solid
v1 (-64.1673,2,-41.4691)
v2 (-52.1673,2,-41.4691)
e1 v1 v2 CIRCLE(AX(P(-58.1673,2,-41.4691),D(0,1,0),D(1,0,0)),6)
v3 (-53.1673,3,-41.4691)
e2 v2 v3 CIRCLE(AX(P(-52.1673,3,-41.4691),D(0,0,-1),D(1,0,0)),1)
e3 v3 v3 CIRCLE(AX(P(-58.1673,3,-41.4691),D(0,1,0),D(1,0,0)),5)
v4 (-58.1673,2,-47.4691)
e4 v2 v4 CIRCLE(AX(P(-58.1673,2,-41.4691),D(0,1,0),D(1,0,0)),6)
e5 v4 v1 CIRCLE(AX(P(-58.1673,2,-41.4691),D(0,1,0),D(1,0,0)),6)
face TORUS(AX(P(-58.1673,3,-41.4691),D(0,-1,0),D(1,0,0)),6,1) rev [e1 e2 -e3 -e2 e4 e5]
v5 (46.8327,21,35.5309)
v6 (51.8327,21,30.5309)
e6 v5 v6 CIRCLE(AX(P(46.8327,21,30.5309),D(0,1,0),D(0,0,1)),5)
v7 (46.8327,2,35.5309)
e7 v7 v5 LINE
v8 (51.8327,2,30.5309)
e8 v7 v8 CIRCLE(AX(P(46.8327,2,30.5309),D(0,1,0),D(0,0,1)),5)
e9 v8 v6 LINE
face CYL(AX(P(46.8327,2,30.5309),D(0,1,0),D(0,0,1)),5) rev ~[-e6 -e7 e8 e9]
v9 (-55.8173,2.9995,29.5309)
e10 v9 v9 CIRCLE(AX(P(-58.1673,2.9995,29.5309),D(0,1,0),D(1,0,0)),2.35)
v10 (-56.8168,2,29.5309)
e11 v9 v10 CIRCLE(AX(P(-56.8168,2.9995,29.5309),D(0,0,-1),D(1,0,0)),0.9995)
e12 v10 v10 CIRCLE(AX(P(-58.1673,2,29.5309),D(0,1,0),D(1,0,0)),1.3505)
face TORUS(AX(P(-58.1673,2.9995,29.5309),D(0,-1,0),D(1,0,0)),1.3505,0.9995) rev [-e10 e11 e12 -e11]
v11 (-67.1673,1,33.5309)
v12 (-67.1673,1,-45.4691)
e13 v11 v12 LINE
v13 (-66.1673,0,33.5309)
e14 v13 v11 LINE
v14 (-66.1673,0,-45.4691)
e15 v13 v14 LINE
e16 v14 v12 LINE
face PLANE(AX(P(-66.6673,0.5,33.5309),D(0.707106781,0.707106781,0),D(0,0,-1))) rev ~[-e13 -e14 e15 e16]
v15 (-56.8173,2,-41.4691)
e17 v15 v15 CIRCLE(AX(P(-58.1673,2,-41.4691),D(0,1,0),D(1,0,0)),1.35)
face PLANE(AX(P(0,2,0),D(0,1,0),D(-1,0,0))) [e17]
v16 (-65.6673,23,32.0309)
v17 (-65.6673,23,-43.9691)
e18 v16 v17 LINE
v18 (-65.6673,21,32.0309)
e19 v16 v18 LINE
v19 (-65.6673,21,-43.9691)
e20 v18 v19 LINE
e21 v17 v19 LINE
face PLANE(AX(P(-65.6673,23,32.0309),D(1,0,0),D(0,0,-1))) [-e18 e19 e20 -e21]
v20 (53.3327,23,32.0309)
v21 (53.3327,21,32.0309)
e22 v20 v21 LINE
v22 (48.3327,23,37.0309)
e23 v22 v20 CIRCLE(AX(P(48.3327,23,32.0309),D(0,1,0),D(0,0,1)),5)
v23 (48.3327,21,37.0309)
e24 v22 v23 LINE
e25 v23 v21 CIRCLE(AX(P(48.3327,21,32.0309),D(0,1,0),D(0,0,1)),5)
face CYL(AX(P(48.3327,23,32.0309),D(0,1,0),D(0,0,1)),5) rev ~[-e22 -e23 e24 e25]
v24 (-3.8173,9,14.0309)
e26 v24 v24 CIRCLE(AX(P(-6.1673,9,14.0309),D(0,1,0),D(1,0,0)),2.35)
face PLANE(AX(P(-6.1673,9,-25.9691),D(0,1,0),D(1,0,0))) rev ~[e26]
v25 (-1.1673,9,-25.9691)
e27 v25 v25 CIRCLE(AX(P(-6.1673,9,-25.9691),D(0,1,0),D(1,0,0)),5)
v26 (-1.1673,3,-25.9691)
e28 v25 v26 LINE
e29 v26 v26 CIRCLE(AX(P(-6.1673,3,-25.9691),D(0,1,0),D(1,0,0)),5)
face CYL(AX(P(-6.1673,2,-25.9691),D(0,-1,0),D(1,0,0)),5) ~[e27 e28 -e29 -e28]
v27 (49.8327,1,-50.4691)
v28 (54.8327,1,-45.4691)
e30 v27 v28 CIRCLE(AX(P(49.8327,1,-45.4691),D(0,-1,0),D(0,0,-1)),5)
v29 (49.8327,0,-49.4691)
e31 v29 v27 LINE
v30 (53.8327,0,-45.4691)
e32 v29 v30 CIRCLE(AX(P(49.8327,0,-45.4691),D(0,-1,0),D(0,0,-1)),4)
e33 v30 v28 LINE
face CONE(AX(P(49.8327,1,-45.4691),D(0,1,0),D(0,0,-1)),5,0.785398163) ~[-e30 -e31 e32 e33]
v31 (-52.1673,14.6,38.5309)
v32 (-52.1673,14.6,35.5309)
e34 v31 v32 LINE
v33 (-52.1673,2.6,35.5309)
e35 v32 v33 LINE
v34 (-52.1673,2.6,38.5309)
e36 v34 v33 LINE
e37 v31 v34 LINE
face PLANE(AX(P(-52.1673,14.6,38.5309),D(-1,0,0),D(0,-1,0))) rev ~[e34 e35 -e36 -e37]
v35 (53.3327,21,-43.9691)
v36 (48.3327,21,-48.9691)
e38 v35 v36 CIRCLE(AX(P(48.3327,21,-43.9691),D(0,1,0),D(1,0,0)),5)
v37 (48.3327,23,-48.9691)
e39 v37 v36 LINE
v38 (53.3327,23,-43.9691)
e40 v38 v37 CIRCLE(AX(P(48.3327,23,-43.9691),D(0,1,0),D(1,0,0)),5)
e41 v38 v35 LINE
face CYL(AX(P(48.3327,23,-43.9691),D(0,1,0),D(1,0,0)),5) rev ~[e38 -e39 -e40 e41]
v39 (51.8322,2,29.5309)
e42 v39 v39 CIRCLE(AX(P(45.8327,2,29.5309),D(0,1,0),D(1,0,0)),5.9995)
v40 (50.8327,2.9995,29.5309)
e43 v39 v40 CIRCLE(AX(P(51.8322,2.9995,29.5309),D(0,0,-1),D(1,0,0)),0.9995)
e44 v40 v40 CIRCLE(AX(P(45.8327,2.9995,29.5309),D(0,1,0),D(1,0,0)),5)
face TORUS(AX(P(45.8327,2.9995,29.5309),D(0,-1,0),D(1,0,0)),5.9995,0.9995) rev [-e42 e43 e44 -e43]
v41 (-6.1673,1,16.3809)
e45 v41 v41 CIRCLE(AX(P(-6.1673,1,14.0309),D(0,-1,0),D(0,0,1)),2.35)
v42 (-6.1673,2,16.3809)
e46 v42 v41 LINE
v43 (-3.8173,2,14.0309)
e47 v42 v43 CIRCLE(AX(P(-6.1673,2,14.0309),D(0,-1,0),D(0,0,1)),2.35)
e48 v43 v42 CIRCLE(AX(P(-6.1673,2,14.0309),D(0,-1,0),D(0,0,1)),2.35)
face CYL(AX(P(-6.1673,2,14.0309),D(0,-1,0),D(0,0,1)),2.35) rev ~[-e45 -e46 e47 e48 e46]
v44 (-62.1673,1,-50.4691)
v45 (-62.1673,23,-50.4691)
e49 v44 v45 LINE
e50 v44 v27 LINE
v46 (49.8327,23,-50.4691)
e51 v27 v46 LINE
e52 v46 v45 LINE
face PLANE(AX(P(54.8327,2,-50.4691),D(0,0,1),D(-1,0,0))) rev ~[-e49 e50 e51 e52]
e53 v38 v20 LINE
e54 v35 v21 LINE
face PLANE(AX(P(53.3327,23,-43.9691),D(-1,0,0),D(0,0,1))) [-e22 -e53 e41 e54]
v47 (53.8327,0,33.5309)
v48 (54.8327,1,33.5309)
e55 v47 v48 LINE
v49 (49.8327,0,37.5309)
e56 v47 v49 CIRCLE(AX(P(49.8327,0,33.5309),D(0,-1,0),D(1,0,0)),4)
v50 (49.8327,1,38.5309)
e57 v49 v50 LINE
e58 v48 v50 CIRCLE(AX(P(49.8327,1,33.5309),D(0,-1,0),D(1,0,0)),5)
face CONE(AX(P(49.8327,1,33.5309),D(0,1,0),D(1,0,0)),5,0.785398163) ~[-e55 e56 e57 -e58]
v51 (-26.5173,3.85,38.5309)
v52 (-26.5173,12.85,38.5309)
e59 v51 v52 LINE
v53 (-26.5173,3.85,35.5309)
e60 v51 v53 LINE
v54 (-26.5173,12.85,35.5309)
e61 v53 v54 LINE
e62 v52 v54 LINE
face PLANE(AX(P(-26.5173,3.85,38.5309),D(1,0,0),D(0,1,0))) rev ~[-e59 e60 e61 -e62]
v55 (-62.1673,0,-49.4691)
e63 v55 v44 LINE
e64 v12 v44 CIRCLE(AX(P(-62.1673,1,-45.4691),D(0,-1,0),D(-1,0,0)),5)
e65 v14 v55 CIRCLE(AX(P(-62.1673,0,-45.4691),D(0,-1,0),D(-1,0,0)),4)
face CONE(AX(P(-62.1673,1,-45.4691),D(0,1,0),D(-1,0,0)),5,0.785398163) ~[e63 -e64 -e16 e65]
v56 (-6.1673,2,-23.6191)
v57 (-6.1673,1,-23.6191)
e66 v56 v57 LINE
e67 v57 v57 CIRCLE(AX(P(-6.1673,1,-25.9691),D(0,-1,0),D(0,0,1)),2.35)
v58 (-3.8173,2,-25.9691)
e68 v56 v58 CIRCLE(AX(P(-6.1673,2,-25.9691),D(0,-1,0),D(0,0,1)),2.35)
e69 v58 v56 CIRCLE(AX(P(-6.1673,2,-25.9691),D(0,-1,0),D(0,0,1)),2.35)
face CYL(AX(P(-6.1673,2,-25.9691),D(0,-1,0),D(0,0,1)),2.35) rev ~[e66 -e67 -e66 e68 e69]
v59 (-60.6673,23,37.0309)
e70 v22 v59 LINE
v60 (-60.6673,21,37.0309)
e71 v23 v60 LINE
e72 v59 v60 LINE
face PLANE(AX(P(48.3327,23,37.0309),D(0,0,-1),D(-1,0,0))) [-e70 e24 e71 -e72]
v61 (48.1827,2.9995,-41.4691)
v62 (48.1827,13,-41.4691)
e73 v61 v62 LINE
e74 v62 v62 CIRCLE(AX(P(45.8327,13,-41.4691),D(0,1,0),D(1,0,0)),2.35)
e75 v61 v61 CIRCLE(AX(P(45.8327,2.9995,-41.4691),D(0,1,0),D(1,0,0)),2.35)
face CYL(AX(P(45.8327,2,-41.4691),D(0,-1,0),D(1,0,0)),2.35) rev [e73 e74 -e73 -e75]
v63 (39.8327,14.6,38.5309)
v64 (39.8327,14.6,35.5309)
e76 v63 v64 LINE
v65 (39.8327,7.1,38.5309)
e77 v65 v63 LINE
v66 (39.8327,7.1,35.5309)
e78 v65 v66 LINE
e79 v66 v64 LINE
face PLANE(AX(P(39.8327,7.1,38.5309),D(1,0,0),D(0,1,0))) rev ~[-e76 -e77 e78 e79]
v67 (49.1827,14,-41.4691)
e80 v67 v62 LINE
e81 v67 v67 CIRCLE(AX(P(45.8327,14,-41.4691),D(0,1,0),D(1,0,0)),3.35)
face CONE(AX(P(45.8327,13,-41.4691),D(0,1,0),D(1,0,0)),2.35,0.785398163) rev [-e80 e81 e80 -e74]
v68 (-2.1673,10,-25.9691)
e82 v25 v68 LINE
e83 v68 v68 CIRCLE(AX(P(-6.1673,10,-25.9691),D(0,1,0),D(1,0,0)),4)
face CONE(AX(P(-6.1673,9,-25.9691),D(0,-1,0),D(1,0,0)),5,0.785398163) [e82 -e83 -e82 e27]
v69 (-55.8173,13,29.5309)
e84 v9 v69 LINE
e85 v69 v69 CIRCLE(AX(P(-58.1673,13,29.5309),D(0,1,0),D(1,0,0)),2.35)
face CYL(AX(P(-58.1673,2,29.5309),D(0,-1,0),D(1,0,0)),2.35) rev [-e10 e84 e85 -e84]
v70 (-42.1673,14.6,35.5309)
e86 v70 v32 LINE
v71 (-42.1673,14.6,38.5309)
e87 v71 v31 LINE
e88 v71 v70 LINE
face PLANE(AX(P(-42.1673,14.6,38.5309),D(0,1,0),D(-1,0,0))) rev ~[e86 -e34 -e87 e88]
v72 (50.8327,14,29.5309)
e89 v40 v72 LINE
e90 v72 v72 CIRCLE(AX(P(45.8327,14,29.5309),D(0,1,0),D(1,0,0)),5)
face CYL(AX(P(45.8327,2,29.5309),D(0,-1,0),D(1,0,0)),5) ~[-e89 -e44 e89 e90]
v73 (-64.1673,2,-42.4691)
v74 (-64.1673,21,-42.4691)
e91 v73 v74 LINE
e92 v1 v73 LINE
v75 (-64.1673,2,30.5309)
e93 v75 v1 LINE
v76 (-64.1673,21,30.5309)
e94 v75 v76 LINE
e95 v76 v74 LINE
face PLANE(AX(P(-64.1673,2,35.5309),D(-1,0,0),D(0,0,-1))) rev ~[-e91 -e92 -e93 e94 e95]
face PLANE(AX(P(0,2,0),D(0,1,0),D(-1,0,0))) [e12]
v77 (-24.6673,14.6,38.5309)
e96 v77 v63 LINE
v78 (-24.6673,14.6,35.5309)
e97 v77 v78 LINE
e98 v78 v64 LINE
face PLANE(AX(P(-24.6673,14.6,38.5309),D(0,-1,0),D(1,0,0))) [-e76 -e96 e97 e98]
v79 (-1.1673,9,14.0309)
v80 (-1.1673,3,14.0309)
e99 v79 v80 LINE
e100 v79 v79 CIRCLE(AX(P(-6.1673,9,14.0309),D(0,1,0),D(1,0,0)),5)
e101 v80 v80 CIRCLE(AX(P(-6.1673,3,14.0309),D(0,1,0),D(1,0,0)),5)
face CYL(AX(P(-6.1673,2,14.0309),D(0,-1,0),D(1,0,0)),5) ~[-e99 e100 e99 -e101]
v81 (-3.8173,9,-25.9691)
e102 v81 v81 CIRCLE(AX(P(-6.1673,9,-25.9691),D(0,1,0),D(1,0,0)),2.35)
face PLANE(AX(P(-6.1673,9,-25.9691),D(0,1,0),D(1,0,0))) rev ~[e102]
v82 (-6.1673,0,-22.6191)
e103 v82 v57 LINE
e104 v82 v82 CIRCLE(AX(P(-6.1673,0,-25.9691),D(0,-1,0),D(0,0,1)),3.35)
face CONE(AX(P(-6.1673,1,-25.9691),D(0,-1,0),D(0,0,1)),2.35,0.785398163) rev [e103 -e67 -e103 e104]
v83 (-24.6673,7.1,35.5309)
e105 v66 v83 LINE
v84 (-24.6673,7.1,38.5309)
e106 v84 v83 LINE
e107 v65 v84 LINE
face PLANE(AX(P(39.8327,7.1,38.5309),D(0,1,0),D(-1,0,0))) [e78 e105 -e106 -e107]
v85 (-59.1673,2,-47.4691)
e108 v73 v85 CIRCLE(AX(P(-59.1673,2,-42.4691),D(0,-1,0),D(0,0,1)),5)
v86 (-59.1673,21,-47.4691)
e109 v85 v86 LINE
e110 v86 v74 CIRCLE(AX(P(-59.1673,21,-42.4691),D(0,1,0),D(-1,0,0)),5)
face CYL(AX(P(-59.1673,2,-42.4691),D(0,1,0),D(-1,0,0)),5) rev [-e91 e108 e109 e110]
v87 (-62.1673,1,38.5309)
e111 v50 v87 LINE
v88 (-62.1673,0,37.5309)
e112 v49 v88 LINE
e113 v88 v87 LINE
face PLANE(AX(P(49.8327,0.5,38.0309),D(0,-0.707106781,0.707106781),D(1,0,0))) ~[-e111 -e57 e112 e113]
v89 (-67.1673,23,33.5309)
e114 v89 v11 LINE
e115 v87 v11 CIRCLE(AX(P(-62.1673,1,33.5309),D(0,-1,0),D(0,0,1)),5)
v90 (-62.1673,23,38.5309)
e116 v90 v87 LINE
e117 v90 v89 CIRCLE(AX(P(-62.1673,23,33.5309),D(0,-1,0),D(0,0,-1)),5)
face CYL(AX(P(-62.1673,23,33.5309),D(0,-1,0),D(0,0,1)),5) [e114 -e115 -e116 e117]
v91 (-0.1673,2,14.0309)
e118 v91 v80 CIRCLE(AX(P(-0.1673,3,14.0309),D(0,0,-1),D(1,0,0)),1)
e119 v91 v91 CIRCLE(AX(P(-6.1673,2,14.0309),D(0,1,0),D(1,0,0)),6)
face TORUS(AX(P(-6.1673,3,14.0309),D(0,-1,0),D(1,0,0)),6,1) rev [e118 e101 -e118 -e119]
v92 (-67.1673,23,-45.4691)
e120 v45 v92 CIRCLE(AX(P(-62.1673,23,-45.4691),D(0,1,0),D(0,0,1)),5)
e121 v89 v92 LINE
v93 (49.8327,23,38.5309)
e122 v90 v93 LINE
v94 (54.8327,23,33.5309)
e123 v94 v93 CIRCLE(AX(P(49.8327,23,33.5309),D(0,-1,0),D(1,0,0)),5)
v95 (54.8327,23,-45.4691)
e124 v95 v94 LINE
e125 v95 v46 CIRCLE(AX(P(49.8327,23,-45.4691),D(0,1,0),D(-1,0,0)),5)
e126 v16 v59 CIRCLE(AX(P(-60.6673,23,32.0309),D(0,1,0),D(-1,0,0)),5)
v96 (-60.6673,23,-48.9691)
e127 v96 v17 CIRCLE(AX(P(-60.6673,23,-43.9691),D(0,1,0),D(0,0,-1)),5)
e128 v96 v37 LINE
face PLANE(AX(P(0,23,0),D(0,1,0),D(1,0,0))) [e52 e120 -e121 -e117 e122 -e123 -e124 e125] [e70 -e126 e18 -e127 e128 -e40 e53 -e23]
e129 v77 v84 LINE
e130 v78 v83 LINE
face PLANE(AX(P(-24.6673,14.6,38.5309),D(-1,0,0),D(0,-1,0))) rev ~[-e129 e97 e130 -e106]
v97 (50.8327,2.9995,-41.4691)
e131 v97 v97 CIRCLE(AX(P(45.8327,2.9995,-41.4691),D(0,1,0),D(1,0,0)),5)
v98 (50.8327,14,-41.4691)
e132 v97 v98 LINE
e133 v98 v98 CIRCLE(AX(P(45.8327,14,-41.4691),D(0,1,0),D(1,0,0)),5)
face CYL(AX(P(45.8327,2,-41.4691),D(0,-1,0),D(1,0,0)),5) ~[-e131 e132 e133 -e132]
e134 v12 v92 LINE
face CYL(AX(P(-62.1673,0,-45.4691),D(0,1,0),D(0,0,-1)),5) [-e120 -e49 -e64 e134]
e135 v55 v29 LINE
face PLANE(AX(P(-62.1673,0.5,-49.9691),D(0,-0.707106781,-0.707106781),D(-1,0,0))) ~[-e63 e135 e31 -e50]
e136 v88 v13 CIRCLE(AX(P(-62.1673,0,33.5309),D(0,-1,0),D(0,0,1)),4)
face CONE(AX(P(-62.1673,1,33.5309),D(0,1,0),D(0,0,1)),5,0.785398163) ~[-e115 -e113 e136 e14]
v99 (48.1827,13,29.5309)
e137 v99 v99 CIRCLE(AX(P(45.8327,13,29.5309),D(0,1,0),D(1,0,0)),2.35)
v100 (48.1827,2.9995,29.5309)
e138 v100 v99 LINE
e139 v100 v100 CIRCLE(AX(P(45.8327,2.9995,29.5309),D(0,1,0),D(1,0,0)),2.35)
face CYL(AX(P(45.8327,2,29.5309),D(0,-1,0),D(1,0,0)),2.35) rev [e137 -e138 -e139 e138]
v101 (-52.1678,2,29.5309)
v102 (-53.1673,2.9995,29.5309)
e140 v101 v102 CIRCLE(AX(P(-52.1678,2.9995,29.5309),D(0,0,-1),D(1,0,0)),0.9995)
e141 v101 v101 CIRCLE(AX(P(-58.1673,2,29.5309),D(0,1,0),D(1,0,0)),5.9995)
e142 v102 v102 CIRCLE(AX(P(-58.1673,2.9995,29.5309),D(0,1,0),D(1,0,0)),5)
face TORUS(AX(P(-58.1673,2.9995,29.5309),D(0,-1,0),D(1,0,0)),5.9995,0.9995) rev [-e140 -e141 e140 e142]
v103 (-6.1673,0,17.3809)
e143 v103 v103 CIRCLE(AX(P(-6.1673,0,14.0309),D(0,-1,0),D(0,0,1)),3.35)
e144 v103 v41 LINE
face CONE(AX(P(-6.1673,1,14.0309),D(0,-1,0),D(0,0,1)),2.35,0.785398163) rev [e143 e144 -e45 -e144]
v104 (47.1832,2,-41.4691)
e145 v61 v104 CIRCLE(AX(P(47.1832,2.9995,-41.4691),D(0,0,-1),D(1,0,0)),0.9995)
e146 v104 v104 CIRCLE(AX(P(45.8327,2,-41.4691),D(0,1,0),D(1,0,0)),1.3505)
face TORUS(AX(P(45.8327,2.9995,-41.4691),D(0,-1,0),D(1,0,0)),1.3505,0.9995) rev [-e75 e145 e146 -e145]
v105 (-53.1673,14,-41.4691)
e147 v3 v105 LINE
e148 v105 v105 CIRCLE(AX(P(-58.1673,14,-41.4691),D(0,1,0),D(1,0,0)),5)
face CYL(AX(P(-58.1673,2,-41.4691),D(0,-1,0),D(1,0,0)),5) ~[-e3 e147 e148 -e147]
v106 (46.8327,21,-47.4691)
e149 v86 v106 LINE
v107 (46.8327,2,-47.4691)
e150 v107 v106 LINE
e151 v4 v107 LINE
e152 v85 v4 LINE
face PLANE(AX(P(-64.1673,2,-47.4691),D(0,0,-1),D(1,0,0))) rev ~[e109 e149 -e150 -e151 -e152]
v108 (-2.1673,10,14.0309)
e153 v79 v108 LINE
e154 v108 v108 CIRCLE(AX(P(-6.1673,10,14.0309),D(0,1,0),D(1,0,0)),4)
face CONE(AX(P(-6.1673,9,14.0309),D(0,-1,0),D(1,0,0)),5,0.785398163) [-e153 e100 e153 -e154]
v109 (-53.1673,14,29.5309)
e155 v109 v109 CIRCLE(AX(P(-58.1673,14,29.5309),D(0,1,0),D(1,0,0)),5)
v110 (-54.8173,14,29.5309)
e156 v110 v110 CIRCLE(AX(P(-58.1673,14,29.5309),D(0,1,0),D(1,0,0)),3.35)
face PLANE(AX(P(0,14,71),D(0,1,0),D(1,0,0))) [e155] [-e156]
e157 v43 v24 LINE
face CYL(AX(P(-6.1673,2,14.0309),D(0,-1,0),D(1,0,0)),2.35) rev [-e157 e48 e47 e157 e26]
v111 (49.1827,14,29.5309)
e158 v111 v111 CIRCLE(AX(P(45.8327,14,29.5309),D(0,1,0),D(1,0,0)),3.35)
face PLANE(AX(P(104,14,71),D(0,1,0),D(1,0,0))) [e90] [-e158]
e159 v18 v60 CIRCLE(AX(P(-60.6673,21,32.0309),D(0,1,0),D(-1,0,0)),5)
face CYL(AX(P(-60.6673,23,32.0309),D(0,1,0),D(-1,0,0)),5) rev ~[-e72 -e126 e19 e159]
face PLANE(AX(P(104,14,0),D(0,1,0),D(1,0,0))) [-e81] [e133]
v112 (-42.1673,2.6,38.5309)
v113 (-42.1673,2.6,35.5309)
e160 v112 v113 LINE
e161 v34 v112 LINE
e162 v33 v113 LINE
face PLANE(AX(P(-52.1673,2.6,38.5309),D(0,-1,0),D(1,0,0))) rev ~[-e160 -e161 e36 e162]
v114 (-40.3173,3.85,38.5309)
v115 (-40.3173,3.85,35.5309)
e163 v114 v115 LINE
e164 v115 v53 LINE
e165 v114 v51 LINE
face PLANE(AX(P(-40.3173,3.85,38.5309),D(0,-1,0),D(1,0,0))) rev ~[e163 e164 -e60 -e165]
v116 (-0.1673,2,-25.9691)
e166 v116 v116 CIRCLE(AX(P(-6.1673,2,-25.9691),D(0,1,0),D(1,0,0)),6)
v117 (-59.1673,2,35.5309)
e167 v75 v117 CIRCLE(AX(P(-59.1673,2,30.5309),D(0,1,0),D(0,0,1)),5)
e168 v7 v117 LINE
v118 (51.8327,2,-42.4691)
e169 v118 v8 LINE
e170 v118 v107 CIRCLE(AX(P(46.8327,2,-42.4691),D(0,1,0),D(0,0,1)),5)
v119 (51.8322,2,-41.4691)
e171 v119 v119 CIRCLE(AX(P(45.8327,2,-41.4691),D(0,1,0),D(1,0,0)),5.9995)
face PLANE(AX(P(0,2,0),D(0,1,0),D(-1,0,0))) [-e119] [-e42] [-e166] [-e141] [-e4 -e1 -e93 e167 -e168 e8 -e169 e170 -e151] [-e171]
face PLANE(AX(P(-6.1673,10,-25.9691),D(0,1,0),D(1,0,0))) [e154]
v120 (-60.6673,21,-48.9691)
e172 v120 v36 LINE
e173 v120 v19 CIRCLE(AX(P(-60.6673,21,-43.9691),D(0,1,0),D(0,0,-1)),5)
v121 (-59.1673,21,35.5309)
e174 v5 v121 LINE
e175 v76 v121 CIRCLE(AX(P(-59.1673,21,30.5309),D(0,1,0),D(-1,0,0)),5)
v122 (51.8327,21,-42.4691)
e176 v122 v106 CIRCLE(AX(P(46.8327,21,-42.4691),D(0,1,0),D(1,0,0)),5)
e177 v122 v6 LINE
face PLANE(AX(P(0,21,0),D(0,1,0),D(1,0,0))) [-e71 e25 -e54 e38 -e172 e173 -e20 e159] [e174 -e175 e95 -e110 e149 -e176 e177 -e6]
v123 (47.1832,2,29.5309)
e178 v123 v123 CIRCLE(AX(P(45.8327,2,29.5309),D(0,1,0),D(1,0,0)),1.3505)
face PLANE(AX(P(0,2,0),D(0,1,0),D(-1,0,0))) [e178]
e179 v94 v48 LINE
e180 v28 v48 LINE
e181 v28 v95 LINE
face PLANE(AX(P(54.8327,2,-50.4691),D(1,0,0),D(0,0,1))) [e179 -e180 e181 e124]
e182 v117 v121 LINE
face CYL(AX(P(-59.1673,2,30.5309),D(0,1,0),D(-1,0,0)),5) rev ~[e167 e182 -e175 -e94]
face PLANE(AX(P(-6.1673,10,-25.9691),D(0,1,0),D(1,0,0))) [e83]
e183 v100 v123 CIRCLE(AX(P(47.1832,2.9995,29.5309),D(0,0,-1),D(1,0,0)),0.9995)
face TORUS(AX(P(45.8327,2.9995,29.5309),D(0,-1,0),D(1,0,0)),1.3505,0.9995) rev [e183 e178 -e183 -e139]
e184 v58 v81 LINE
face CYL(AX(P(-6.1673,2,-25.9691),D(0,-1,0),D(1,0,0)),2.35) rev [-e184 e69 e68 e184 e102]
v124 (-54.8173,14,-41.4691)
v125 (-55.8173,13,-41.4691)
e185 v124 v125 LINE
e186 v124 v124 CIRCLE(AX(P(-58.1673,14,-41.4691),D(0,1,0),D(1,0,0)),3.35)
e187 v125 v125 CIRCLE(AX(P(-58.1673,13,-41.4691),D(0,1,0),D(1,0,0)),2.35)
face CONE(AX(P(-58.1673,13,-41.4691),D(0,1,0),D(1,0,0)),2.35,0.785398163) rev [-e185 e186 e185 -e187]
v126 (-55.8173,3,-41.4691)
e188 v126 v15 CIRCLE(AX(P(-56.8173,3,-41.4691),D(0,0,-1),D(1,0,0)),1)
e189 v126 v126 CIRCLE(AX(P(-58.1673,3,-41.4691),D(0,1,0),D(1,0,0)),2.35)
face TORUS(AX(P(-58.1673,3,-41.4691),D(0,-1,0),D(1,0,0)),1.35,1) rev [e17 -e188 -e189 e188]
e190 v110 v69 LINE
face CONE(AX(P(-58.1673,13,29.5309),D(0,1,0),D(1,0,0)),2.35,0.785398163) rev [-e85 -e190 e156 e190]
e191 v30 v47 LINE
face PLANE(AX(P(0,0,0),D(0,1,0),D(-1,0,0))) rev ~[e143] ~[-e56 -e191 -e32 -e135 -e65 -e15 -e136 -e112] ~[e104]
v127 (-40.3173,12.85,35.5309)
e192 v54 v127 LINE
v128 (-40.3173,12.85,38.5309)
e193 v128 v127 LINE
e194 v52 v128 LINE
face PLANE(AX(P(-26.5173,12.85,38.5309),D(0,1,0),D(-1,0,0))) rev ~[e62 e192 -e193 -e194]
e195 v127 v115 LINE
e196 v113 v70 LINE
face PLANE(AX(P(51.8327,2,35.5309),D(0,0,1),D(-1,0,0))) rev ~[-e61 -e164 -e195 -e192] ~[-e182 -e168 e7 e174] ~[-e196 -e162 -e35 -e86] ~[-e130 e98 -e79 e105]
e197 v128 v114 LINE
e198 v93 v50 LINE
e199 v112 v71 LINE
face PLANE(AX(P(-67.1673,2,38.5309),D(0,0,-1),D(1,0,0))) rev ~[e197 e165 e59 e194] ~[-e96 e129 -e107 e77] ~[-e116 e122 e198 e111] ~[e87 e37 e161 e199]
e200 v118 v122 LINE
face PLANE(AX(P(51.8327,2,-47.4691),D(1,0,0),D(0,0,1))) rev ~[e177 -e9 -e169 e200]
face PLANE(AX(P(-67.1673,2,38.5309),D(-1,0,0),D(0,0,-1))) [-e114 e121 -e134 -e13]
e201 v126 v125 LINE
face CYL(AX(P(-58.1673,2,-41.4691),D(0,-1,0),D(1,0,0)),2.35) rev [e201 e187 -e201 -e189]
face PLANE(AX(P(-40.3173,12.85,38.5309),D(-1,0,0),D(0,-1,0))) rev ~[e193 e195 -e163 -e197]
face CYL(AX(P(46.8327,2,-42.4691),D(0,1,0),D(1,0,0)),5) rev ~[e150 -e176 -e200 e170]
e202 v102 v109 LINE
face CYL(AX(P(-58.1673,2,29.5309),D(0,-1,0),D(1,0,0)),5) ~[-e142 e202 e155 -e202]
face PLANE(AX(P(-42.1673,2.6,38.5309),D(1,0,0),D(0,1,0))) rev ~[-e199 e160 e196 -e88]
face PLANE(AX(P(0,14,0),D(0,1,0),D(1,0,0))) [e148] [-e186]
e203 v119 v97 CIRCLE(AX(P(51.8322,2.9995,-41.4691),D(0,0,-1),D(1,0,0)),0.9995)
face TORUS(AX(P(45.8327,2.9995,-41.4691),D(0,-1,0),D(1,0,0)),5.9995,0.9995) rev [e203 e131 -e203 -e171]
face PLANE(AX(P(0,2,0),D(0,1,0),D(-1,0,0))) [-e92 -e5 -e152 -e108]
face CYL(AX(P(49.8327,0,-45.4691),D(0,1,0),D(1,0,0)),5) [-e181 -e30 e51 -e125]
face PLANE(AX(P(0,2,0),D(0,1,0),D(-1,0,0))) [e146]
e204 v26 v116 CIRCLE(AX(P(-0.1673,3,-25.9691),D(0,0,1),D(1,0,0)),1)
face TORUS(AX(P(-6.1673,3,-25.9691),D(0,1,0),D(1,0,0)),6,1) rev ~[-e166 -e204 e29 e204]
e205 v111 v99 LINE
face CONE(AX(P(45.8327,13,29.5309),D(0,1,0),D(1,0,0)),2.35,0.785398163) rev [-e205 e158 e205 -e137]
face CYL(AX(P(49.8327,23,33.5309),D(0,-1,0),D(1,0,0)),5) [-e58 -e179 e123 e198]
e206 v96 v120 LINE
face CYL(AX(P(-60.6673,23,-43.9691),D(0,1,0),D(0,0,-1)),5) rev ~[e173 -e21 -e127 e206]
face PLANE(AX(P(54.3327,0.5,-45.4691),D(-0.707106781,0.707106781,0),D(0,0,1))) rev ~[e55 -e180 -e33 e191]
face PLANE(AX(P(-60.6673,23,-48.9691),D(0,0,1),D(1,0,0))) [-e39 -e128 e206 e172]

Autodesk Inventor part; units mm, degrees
ref_plane "YZ Plane" through (0, 0, 0) normal (1, 0, 0) x (0, 1, 0)
ref_plane "XZ Plane" through (0, 0, 0) normal (0, 1, 0) x (-1, 0, 0)
ref_plane "XY Plane" through (0, 0, 0) normal (0, 0, 1) x (1, 0, 0)
sketch "Sketch1" plane through (0, 0, 0) normal (0, 1, 0) x (-1, 0, 0)
  line L0 (67.1673, -50.4691) -> (-54.8327, -50.4691)
  line L1 (-54.8327, -50.4691) -> (-54.8327, 38.5309)
  line L2 (-54.8327, 38.5309) -> (67.1673, 38.5309)
  line L3 (67.1673, 38.5309) -> (67.1673, -50.4691)
  point P0 (0, 0)
  dimension "d0" = 122
  dimension "d1" = 89
extrude "Extrusion1" add sketch "Sketch1" along normal blind 2
sketch "Sketch2" plane through (0, 2, 0) normal (0, 1, 0) x (1, 0, 0)
  circle A0 centre (-58.1673, 41.4691) radius 2.35
  circle A1 centre (-58.1673, 41.4691) radius 5
  line L0 (-67.1673, 50.4691) -> (-67.1673, -38.5309) projected
  line L1 (54.8327, 50.4691) -> (-67.1673, 50.4691) projected
  point P0 (0, 0)
  dimension "d4" = 4.7
  dimension "d5" = 10
  dimension "d6" = 9
  dimension "d7" = 9
extrude "Extrusion2" add sketch "Sketch2" along normal blind 12
fillet "Fillet1" radius 1 2 edges at (-63.1673, 2, -41.4691) (-60.5173, 2, -41.4691)
sketch "Sketch3" plane through (0, 2, 0) normal (0, 1, 0) x (1, 0, 0)
  line L0 (54.8327, 50.4691) -> (-67.1673, 50.4691) projected
  line L1 (-67.1673, -38.5309) -> (54.8327, -38.5309) projected
  line L2 (-67.1673, 50.4691) -> (54.8327, 50.4691)
  line L3 (54.8327, 50.4691) -> (54.8327, -38.5309)
  line L4 (54.8327, -38.5309) -> (-67.1673, -38.5309)
  line L5 (-67.1673, -38.5309) -> (-67.1673, 50.4691)
  line L6 (-64.1673, 47.4691) -> (51.8327, 47.4691)
  line L7 (51.8327, 47.4691) -> (51.8327, -35.5309)
  line L8 (51.8327, -35.5309) -> (-64.1673, -35.5309)
  line L9 (-64.1673, -35.5309) -> (-64.1673, 47.4691)
  point P0 (0, 0)
  point P1 (54.8327, 50.4691)
  point P2 (-67.1673, -38.5309)
  dimension "d11" = 3
  dimension "d12" = 3
  dimension "d13" = 3
  dimension "d14" = 3
extrude "Extrusion3" add sketch "Sketch3" along normal blind 21
fillet "Fillet3" radius 5 8 edges at (54.8327, 11.5, 38.5309) (51.8327, 12.5, 35.5309) (-67.1673, 11.5, 38.5309) (-64.1673, 12.5, 35.5309) (-67.1673, 11.5, -50.4691) (-64.1673, 12.5, -47.4691) (54.8327, 11.5, -50.4691) (51.8327, 12.5, -47.4691)
chamfer "Chamfer2" distance 1 angle 45 8 edges at (-6.1673, 0, -50.4691) (-65.7028, 0, -49.0047) (-67.1673, 0, -5.9691) (-65.7028, 0, 37.0664) (-6.1673, 0, 38.5309) (53.3683, 0, 37.0664) (54.8327, 0, -5.9691) (53.3683, 0, -49.0047)
pattern_linear "Rectangular Pattern2" count 2 spacing 71 along (0, 0, 1) count 2 spacing 104 along (1, 0, 0) of "Extrusion2", "Fillet1"
sketch "Sketch5" plane through (0, 23, 0) normal (0, 1, 0) x (1, 0, 0)
  line L0 (-60.6673, 48.9691) -> (48.3327, 48.9691)
  line L1 (53.3327, 43.9691) -> (53.3327, -32.0309)
  line L2 (48.3327, -37.0309) -> (-60.6673, -37.0309)
  line L3 (-65.6673, -32.0309) -> (-65.6673, 43.9691)
  line L4 (54.8327, -33.5309) -> (54.8327, 45.4691) projected
  line L5 (-62.1673, -38.5309) -> (49.8327, -38.5309) projected
  line L6 (49.8327, 50.4691) -> (-62.1673, 50.4691) projected
  line L7 (-67.1673, 45.4691) -> (-67.1673, -33.5309) projected
  arc A0 (-60.6673, 48.9691) -> (-65.6673, 43.9691) centre (-60.6673, 43.9691) ccw
  arc A1 (53.3327, 43.9691) -> (48.3327, 48.9691) centre (48.3327, 43.9691) ccw
  arc A2 (48.3327, -37.0309) -> (53.3327, -32.0309) centre (48.3327, -32.0309) ccw
  arc A3 (-65.6673, -32.0309) -> (-60.6673, -37.0309) centre (-60.6673, -32.0309) ccw
  point P0 (0, 0)
  dimension "d37" = 1.5
  dimension "d38" = 1.5
  dimension "d39" = 1.5
  dimension "d40" = 1.5
  dimension "d41" = 5
extrude "Extrusion4" cut sketch "Sketch5" against normal blind 2
sketch "Sketch7" plane through (-62.1673, 23, 38.5309) normal (0, 0, 1) x (1, 0, 0)
  line L0 (10, -20.4) -> (37.5, -20.4)
  line L1 (102, -15.9) -> (102, -8.4)
  line L2 (10, -8.4) -> (10, -20.4)
  line L3 (-5, 0) -> (-5, -22) projected
  line L4 (0, -23) -> (112, -23) projected
  line L5 (37.5, -8.4) -> (37.5, -20.4)
  line L6 (37.5, -20.4) -> (20, -20.4)
  line L7 (20, -20.4) -> (20, -8.4)
  line L8 (37.5, -8.4) -> (102, -8.4)
  line L9 (102, -8.4) -> (102, -15.9)
  line L10 (102, -15.9) -> (37.5, -15.9)
  line L11 (37.5, -15.9) -> (37.5, -8.4)
  line L12 (21.85, -20.4) -> (35.65, -20.4)
  line L13 (102, -8.4) -> (37.5, -8.4)
  line L14 (21.85, -8.4) -> (10, -8.4)
  line L15 (35.65, -10.15) -> (21.85, -10.15)
  line L16 (21.85, -10.15) -> (21.85, -19.15)
  line L17 (21.85, -19.15) -> (35.65, -19.15)
  line L18 (35.65, -19.15) -> (35.65, -10.15)
  point P0 (62.1673, -23)
  point P1 (10, -14.4)
  point P2 (20, -14.4)
  point P3 (37.5, -15.9)
  point P4 (20, -20.4)
  point P5 (37.5, -8.4)
  dimension "d50" = 15
  dimension "d52" = 2.6
  dimension "d53" = 92
  dimension "d54" = 10
  dimension "d55" = 17.5
  dimension "d56" = 7.5
  dimension "d103" = 9
  dimension "d104" = 1.25
  dimension "d107" = 13.8
extrude "Extrusion6" cut sketch "Sketch7" against normal blind 3
sketch "Sketch10" plane through (0, 2, 0) normal (0, 1, 0) x (1, 0, 0)
  line L0 (-67.1673, 45.4691) -> (-67.1673, -33.5309) projected
  line L1 (49.8327, 50.4691) -> (-62.1673, 50.4691) projected
  point P0 (0, 0)
  point P1 (-6.1673, 25.9691)
  dimension "d68" = 61
  dimension "d69" = 24.5
hole "Hole2" at (-6.1673, 2, -25.9691) direction (0, -1, 0) diameter 4.7 end through all
sketch "Sketch11" plane through (0, 2, 0) normal (0, 1, 0) x (1, 0, 0)
  line L0 (-67.1673, 45.4691) -> (-67.1673, -33.5309) projected
  line L1 (-62.1673, -38.5309) -> (49.8327, -38.5309) projected
  point P0 (0, 0)
  point P1 (-6.1673, -14.0309)
  dimension "d77" = 61
  dimension "d78" = 24.5
hole "Hole3" at (-6.1673, 2, 14.0309) direction (0, -1, 0) diameter 4.7 end through all
sketch "Sketch12" plane through (0, 2, 0) normal (0, 1, 0) x (1, 0, 0)
  circle A0 centre (-6.1673, 25.9691) radius 2.35 projected
  circle A1 centre (-6.1673, 25.9691) radius 2.35
  circle A2 centre (-6.1673, 25.9691) radius 5
  circle A3 centre (-6.1673, -14.0309) radius 2.35 projected
  circle A4 centre (-6.1673, -14.0309) radius 2.35
  circle A5 centre (-6.1673, -14.0309) radius 5
  point P0 (0, 0)
  dimension "d86" = 10
  dimension "d87" = 10
  dimension "d88" = 4.7
extrude "Extrusion7" add sketch "Sketch12" along normal blind 7
sketch "Sketch13" plane through (-6.1673, 9, -25.9691) normal (0, 1, 0) x (1, 0, 0)
  circle A0 centre (0, 0) radius 2.35 projected
  circle A1 centre (0, 0) radius 5
  circle A2 centre (0, -40) radius 5 projected
  circle A3 centre (0, -40) radius 5
  point P0 (6.1673, -25.9691)
extrude "Extrusion8" add sketch "Sketch13" along normal blind 1 contours A0 | A1 | A2
chamfer "Chamfer3" distance 1 angle 45 2 edges at (-11.1673, 10, -25.9691) (-11.1673, 10, 14.0309)
fillet "Fillet4" radius 1 2 edges at (-11.1673, 2, -25.9691) (-11.1673, 2, 14.0309)
chamfer "Chamfer4" distance 1 angle 45 6 edges at (-6.1673, 0, -28.3191) (-6.1673, 0, 11.6809) (43.4827, 14, -41.4691) (-60.5173, 14, -41.4691) (-60.5173, 14, 29.5309) (43.4827, 14, 29.5309)
equation "\"d12\" = d11"
equation "\"d13\" = d11"
equation "\"d14\" = d11"
equation "\"d38\" = d37"
equation "\"d39\" = d37"
equation "\"d40\" = d37"
properties part number "housing_base_v_2"
